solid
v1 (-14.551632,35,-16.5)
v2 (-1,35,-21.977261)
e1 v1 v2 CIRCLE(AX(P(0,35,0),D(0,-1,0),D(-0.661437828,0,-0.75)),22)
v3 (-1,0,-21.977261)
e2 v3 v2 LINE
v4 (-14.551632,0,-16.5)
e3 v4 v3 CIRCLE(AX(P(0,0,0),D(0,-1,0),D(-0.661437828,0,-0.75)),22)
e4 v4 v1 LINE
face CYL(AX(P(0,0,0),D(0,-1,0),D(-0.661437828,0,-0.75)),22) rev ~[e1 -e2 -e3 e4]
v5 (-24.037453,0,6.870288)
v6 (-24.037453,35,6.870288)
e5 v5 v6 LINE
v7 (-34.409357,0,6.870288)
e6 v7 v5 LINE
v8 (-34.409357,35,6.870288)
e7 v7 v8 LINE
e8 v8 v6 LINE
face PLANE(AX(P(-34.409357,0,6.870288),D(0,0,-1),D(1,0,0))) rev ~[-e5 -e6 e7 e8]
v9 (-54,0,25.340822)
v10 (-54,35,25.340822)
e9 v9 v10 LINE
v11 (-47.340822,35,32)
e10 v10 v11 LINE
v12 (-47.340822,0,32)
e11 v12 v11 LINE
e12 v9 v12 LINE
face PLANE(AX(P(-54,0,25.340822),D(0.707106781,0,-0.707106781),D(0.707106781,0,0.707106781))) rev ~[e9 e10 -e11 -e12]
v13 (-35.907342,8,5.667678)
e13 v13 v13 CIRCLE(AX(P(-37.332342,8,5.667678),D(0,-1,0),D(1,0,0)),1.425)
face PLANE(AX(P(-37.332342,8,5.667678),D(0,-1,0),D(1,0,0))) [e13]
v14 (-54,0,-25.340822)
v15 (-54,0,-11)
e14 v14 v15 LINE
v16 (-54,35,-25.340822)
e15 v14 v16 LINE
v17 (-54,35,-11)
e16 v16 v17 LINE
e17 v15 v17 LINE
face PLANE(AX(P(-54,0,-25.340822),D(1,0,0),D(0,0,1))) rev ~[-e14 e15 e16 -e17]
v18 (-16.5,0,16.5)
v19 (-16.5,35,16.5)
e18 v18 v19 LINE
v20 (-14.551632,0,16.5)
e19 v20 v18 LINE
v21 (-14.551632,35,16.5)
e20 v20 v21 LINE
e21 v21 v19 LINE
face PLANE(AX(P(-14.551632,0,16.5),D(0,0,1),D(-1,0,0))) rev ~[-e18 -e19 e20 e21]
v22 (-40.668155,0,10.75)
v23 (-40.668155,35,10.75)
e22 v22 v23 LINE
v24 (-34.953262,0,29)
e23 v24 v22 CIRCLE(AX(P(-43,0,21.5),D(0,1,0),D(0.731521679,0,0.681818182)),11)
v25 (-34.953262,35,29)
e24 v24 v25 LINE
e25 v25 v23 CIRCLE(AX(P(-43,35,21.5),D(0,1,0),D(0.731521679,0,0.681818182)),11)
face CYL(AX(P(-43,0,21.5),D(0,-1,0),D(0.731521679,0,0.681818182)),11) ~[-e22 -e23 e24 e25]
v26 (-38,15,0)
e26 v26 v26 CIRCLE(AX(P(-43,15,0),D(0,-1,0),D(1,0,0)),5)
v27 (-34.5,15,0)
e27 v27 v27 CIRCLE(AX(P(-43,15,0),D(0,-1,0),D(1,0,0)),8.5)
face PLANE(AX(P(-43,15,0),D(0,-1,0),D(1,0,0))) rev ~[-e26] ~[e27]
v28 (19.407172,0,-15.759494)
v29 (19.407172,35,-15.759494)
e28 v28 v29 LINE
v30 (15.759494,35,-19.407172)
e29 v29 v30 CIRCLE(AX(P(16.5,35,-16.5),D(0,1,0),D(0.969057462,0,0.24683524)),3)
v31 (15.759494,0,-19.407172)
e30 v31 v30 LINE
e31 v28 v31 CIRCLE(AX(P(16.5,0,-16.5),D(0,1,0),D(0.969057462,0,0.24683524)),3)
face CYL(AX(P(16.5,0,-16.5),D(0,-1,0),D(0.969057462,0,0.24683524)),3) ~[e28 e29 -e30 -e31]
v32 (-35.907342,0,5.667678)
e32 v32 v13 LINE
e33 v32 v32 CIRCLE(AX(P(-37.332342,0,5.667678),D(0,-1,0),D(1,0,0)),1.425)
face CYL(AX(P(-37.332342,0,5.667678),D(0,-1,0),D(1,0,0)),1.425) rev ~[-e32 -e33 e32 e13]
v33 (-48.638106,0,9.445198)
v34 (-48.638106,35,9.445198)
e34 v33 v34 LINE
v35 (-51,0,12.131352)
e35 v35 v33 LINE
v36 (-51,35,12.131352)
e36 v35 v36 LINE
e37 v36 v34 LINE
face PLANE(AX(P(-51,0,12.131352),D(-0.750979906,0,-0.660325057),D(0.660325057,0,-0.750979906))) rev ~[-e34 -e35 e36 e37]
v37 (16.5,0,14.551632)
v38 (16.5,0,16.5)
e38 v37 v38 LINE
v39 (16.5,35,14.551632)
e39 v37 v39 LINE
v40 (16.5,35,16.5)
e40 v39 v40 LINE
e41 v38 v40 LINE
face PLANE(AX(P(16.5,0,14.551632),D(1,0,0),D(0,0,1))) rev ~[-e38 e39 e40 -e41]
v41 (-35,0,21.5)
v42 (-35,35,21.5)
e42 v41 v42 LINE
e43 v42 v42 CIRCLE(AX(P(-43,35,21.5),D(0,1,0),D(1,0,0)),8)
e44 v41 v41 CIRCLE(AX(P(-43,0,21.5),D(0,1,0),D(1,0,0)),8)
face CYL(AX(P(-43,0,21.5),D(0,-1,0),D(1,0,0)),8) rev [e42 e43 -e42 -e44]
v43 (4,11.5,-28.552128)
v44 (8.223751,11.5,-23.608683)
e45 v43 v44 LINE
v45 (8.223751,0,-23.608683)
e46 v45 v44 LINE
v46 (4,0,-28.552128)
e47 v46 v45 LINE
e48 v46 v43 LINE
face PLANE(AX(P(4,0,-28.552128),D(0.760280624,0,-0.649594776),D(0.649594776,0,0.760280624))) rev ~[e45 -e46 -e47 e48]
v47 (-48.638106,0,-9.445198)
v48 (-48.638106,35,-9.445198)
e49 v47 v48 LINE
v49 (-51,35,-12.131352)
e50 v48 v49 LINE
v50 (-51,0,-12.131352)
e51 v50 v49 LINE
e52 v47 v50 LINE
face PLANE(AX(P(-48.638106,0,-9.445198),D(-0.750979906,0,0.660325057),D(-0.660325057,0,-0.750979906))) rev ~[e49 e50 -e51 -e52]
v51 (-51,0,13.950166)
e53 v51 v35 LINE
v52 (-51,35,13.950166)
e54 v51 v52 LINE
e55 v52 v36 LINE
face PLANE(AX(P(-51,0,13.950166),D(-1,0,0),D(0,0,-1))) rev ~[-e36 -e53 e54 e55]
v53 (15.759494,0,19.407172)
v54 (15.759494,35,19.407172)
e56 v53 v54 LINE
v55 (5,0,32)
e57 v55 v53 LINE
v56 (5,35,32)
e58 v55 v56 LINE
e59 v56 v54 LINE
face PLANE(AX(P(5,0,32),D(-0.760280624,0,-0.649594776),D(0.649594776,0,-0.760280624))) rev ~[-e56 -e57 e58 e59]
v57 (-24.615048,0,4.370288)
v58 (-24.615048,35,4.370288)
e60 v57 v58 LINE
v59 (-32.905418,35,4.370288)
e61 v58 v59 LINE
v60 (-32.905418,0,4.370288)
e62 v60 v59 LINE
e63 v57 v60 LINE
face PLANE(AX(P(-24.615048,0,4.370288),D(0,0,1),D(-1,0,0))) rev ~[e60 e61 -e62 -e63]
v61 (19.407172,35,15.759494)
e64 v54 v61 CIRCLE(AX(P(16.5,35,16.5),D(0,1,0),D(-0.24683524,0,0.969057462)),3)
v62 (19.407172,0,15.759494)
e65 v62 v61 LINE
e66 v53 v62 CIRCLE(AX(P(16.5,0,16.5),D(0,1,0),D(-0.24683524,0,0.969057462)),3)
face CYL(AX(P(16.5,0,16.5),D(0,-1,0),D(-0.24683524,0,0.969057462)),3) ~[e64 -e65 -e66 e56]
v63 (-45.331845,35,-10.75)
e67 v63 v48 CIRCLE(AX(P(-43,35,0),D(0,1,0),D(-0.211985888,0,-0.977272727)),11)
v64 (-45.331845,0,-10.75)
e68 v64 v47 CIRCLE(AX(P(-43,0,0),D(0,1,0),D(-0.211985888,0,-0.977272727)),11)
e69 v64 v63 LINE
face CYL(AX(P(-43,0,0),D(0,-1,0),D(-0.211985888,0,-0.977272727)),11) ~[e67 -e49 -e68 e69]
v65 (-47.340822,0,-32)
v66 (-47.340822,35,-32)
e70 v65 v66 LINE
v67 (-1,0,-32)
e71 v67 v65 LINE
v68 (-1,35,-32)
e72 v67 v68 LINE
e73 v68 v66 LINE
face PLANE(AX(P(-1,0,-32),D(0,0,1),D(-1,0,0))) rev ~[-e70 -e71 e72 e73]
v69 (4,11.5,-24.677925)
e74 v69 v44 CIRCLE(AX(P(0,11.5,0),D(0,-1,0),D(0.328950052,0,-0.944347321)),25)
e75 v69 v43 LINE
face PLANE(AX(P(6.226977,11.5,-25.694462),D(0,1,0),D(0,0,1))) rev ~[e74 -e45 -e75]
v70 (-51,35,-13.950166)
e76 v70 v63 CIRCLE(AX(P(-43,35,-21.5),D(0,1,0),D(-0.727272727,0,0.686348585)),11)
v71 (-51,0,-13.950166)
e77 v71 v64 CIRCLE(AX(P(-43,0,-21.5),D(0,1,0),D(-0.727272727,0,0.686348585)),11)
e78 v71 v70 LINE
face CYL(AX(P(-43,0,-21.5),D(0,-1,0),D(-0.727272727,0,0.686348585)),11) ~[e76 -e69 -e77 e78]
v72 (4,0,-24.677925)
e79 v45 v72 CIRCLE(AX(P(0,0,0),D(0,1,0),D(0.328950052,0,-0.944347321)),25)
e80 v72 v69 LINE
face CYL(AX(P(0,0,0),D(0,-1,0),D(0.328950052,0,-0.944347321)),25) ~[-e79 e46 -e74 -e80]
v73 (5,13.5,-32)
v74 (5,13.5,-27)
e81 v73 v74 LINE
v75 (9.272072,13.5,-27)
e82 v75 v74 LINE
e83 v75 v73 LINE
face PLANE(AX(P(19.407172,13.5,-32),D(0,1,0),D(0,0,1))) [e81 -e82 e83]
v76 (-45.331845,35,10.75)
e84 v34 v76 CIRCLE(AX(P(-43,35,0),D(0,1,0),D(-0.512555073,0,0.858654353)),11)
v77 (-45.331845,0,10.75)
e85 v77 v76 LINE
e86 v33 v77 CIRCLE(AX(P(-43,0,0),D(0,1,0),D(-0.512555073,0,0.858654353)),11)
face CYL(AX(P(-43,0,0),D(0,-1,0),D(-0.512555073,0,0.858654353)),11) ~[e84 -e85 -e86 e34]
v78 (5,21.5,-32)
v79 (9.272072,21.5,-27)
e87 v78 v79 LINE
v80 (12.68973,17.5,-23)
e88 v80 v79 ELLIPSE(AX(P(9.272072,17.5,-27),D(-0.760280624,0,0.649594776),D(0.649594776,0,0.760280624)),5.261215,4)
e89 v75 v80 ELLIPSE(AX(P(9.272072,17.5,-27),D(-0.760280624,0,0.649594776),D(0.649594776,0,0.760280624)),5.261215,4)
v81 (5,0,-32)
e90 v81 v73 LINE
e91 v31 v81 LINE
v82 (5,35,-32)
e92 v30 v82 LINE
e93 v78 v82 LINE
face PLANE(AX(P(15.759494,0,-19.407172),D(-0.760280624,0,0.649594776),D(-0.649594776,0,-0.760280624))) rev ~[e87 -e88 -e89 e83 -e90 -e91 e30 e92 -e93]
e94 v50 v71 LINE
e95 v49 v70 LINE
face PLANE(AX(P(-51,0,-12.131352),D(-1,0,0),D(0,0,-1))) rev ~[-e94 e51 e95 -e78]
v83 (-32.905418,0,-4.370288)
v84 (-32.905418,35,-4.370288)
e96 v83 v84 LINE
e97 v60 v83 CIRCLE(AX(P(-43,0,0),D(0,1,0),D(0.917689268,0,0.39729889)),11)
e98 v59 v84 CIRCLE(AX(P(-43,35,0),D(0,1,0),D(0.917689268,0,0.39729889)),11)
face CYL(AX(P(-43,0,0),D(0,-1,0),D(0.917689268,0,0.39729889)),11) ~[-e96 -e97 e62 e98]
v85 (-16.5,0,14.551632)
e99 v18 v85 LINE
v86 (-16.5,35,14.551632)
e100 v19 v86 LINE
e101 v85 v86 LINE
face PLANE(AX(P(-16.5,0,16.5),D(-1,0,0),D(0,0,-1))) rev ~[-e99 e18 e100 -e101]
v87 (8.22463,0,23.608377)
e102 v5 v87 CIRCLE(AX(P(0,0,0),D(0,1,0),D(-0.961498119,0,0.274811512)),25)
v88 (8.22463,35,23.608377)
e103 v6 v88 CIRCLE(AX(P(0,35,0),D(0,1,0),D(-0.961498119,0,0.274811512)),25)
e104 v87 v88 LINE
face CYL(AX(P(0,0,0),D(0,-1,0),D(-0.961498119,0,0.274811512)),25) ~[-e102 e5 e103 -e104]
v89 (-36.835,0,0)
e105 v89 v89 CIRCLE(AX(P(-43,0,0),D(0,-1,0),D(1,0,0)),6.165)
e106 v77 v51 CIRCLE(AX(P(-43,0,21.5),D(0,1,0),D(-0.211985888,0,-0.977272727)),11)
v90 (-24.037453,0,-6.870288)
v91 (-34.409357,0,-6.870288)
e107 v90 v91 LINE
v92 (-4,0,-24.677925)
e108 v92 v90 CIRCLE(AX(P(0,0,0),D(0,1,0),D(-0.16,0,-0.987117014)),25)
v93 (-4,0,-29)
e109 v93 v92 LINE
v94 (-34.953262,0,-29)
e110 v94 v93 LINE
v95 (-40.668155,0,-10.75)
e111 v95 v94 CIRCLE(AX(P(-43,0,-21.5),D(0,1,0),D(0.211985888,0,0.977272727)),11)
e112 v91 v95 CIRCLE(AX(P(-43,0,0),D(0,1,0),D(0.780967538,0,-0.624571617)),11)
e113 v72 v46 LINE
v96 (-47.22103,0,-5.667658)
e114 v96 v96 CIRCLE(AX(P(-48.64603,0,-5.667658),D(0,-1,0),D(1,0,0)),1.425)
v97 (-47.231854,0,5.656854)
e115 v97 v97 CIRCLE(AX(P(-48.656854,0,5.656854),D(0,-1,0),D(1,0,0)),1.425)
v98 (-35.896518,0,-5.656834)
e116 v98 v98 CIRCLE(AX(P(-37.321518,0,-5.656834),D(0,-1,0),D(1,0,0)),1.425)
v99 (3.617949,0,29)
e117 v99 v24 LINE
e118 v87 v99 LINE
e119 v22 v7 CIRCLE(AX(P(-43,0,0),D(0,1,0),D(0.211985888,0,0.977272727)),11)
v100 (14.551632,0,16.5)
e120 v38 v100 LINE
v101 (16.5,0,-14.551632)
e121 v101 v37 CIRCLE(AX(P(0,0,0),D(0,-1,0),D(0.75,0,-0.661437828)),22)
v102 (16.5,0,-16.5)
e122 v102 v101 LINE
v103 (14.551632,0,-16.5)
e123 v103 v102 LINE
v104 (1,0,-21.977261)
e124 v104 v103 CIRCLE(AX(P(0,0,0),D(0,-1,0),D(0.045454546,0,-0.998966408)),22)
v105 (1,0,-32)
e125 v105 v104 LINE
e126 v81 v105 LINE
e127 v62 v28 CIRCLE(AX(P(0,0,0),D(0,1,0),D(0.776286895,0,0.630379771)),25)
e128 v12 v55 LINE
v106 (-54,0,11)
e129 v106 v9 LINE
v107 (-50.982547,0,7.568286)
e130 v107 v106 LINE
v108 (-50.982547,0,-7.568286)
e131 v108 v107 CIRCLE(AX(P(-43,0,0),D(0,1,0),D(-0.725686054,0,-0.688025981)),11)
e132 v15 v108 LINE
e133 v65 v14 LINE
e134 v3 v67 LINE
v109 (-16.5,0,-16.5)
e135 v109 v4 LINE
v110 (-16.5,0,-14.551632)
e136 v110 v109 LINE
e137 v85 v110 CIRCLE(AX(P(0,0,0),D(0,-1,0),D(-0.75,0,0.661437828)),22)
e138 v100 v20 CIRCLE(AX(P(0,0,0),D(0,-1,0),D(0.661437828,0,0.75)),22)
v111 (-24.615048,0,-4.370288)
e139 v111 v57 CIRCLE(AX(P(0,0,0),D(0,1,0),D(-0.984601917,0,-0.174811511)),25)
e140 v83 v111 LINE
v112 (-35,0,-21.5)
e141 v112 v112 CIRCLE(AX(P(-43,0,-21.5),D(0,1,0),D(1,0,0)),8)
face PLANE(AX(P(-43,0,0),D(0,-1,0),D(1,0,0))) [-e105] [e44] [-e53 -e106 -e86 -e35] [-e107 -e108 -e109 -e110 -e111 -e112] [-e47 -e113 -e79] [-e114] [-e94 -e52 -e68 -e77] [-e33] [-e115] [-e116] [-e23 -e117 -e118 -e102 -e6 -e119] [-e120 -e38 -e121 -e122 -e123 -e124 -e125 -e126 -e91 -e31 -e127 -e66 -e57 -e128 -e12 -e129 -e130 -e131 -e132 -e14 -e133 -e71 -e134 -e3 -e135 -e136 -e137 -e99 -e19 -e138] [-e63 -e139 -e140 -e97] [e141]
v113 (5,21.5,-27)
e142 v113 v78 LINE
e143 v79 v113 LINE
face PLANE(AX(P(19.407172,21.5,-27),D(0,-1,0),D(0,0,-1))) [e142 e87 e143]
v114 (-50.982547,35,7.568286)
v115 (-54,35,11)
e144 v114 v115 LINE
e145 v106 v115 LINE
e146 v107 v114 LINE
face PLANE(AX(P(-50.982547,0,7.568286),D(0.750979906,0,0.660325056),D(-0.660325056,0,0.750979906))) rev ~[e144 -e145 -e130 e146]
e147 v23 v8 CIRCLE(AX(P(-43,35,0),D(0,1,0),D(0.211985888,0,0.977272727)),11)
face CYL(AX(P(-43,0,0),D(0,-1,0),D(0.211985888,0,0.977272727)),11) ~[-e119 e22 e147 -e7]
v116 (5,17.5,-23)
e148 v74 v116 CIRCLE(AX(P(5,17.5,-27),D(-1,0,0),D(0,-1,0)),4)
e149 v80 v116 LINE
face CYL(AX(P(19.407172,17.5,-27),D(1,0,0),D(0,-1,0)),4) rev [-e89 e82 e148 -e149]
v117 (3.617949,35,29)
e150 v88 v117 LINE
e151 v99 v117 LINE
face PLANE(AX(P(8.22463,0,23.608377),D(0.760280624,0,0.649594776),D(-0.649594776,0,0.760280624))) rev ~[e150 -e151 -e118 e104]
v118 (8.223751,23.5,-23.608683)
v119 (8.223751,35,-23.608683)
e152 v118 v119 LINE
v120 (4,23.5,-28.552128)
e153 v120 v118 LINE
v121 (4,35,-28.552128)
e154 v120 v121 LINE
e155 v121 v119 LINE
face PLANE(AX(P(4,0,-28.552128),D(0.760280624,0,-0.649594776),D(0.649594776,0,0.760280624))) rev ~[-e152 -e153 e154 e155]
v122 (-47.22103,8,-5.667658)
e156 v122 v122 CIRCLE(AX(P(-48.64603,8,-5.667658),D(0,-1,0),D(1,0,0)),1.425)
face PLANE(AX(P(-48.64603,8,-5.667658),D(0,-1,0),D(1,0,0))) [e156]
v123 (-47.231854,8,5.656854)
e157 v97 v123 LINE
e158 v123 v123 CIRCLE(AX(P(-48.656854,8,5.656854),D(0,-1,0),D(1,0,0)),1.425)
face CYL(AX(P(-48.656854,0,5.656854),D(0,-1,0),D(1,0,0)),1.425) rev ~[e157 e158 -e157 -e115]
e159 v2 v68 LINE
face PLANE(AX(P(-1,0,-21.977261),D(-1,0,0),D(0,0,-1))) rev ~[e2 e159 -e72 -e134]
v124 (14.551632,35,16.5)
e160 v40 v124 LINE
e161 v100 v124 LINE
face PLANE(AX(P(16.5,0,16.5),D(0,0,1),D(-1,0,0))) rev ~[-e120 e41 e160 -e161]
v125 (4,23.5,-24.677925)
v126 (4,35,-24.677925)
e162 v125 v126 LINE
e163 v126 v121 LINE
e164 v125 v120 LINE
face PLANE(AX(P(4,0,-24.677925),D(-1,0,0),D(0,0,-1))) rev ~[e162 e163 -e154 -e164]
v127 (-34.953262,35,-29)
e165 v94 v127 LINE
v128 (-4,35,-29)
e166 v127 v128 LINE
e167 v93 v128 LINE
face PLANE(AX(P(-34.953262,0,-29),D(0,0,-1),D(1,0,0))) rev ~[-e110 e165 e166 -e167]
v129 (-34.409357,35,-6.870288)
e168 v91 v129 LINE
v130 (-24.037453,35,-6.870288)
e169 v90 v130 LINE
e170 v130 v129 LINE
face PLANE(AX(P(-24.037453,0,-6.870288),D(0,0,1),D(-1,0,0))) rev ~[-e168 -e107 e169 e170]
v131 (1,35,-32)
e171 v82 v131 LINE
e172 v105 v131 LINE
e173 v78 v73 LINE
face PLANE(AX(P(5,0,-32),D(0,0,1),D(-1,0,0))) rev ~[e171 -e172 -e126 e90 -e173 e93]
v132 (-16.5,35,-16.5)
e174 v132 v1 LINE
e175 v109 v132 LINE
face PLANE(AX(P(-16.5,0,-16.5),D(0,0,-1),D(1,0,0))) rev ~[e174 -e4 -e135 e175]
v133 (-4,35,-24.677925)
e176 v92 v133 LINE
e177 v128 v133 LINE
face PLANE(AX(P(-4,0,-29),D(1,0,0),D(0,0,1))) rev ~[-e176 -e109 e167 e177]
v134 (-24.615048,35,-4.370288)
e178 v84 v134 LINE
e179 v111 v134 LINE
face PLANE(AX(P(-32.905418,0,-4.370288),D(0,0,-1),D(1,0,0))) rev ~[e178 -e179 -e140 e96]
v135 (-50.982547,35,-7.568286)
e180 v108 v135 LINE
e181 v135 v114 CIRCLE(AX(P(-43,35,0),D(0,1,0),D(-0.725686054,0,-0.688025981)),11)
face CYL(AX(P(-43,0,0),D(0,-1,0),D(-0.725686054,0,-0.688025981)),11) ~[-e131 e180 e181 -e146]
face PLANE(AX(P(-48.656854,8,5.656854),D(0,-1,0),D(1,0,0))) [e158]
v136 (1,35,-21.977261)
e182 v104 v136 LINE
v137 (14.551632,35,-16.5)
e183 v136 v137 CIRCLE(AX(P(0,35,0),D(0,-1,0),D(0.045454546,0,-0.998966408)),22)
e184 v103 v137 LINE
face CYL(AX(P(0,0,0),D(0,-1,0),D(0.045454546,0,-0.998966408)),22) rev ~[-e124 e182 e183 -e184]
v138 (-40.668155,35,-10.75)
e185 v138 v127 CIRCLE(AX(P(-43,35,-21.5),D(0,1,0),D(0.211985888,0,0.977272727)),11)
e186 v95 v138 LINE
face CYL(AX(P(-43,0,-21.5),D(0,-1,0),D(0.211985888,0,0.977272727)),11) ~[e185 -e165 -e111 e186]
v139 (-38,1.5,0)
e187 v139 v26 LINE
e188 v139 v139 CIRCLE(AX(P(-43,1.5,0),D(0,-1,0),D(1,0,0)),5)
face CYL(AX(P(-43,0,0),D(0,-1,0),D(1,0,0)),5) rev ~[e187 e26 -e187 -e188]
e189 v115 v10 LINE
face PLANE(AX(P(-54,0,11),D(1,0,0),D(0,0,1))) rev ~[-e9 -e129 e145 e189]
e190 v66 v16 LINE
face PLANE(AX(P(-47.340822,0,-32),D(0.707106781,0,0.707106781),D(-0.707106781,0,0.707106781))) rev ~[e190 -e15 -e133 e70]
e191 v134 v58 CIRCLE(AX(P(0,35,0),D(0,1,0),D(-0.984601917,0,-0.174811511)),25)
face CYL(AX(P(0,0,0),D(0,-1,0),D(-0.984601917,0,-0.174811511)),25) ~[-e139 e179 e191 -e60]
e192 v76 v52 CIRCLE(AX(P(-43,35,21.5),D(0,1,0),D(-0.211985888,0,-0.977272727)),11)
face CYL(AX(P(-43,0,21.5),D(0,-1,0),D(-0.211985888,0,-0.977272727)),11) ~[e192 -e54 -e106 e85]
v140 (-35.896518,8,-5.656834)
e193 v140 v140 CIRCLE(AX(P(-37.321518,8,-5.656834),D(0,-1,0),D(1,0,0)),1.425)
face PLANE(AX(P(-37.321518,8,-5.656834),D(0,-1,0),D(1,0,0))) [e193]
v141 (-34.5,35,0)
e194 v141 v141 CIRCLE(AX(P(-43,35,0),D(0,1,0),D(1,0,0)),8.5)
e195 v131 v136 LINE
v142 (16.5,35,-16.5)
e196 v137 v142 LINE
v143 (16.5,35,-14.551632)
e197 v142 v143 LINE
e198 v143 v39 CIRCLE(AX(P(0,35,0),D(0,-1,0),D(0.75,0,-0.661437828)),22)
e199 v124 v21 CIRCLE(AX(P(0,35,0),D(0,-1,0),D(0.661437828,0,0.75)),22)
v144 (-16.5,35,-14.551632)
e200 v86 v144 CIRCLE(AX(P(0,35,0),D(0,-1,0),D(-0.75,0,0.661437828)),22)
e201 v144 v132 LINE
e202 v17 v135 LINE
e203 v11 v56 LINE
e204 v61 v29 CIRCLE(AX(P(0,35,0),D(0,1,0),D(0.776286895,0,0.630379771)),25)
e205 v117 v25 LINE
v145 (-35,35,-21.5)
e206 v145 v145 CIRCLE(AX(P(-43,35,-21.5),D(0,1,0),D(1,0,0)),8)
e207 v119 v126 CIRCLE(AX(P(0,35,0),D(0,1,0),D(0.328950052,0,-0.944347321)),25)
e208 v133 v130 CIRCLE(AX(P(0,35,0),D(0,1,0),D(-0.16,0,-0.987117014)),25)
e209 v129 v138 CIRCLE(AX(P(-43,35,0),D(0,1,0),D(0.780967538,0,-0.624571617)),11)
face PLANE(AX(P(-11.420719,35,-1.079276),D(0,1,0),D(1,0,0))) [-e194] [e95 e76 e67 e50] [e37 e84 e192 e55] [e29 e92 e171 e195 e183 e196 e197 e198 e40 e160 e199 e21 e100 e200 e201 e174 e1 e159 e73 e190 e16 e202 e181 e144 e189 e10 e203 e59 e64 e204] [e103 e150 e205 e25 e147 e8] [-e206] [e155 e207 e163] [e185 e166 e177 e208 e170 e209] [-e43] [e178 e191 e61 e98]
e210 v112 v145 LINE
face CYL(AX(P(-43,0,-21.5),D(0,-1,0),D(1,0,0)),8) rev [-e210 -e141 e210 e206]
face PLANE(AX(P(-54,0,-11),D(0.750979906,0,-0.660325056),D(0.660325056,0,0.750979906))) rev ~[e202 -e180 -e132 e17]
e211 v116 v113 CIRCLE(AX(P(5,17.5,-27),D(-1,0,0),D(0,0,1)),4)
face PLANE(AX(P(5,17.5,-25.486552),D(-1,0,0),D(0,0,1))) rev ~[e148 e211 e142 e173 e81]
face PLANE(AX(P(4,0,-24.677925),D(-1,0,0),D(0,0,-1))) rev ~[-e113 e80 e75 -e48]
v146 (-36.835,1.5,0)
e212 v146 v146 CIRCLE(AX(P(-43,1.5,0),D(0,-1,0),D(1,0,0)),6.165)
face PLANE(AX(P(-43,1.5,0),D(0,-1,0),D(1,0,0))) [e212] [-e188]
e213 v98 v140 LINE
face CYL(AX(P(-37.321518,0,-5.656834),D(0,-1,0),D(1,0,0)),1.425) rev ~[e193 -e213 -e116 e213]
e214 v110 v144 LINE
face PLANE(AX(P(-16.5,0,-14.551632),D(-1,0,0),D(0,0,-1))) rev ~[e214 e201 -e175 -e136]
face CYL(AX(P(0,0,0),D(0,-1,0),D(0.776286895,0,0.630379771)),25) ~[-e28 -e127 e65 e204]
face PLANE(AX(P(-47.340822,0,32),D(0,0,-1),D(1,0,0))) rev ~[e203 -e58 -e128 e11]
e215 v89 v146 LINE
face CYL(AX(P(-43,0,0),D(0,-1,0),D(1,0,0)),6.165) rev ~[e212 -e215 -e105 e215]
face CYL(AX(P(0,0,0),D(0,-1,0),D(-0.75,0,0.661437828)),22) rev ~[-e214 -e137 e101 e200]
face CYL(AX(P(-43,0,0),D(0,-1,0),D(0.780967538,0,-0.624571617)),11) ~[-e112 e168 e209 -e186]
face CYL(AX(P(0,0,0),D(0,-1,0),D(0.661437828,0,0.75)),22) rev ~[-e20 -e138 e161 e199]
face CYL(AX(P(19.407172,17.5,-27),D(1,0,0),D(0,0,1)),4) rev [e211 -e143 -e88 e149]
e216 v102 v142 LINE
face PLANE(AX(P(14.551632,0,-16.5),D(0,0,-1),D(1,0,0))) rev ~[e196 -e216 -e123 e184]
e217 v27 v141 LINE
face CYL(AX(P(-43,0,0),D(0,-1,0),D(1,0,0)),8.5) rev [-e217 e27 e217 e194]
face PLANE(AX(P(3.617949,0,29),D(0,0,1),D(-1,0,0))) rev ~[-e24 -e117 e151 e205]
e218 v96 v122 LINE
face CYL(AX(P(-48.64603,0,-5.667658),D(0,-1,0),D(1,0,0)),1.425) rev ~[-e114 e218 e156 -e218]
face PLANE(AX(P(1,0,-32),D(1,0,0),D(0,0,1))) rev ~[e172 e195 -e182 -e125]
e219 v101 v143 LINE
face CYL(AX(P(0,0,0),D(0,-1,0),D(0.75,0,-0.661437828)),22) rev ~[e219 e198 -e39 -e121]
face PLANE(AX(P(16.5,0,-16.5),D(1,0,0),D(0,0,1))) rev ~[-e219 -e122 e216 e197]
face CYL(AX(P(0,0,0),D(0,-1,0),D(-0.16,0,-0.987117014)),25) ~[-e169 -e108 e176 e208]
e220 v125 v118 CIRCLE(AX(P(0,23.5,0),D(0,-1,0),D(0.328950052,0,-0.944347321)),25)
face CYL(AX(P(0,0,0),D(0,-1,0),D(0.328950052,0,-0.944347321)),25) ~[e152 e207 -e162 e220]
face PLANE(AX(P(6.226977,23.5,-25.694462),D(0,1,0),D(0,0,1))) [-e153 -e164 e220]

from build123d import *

# Parameters (mm, degrees)
SKETCH1_R           = 8
SKETCH1_R_2         = 8.5
BOSS_EXTRUDE1_DEPTH = 35
BOSS_EXTRUDE3_DEPTH = 12
CUT_EXTRUDE1_DEPTH  = 14.407172
SKETCH7_R           = 8.5
BOSS_EXTRUDE4_DEPTH = 15
SKETCH7_3_R         = 5
CUT_EXTRUDE2_DEPTH  = 15
SKETCH7_4_R         = 6.165
CUT_EXTRUDE3_DEPTH  = 1.5
SKETCH7_5_R         = 1.425
CUT_EXTRUDE4_DEPTH  = 8


with BuildPart() as part:
    # Sketch1 → Boss-Extrude1 (new body)
    with BuildSketch(Plane(origin=(0, 0, 0), x_dir=(1, 0, 0), z_dir=(0, 1, 0))):
        with BuildLine():
            ThreePointArc((-50.982546594, 7.568285795), (-54, 0), (-50.982546594, -7.568285795))
            Line((-50.982546594, -7.568285795), (-54, -11))
            Line((-54, -11), (-54, -25.34082208))
            Line((-54, -25.34082208), (-47.34082208, -32))
            Line((-47.34082208, -32), (5, -32))
            Line((5, -32), (15.759494281, -19.407172386))
            ThreePointArc((15.759494281, -19.407172386), (18.621320344, -18.621320344), (19.407172386, -15.759494281))
            ThreePointArc((19.407172386, -15.759494281), (25, 0), (19.407172386, 15.759494281))
            ThreePointArc((19.407172386, 15.759494281), (18.621320344, 18.621320344), (15.759494281, 19.407172386))
            Line((15.759494281, 19.407172386), (5, 32))
            Line((5, 32), (1, 32))
            Line((1, 32), (1, 21.977260976))
            ThreePointArc((1, 21.977260976), (8.243992543, 20.396974946), (14.551632211, 16.5))
            Line((14.551632211, 16.5), (16.5, 16.5))
            Line((16.5, 16.5), (16.5, 14.551632211))
            ThreePointArc((16.5, 14.551632211), (22, 0), (16.5, -14.551632211))
            Line((16.5, -14.551632211), (16.5, -16.5))
            Line((16.5, -16.5), (14.551632211, -16.5))
            ThreePointArc((14.551632211, -16.5), (0, -22), (-14.551632211, -16.5))
            Line((-14.551632211, -16.5), (-16.5, -16.5))
            Line((-16.5, -16.5), (-16.5, -14.551632211))
            ThreePointArc((-16.5, -14.551632211), (-22, 0), (-16.5, 14.551632211))
            Line((-16.5, 14.551632211), (-16.5, 16.5))
            Line((-16.5, 16.5), (-14.551632211, 16.5))
            ThreePointArc((-14.551632211, 16.5), (-8.243992543, 20.396974946), (-1, 21.977260976))
            Line((-1, 21.977260976), (-1, 32))
            Line((-1, 32), (-47.34082208, 32))
            Line((-47.34082208, 32), (-54, 25.34082208))
            Line((-54, 25.34082208), (-54, 11))
            Line((-54, 11), (-50.982546594, 7.568285795))
        make_face()
        with BuildLine():
            ThreePointArc((-48.638105805, -9.445197877), (-47.038026147, -10.232025451), (-45.331844763, -10.75))
            ThreePointArc((-45.331844763, -10.75), (-48.408051309, -11.921222362), (-51, -13.950165565))
            Line((-51, -13.950165565), (-51, -12.131352314))
            Line((-51, -12.131352314), (-48.638105805, -9.445197877))
        make_face(mode=Mode.SUBTRACT)
        with Locations((-43, -21.5)):
            Circle(SKETCH1_R, mode=Mode.SUBTRACT)
        with BuildLine():
            ThreePointArc((-34.95326153, -29), (-32.502649264, -18.212808567), (-40.668155237, -10.75))
            ThreePointArc((-40.668155237, -10.75), (-37.204464997, -9.349426401), (-34.409357086, -6.870287791))
            Line((-34.409357086, -6.870287791), (-24.037452978, -6.870287791))
            ThreePointArc((-24.037452978, -6.870287791), (-11.513133706, -22.191163833), (8.224630177, -23.60837687))
            Line((8.224630177, -23.60837687), (3.617949295, -29))
            Line((3.617949295, -29), (-34.95326153, -29))
        make_face(mode=Mode.SUBTRACT)
        with Locations((-43, 0)):
            Circle(SKETCH1_R_2, mode=Mode.SUBTRACT)
        with BuildLine():
            ThreePointArc((-45.331844763, 10.75), (-47.038026147, 10.232025451), (-48.638105805, 9.445197877))
            Line((-48.638105805, 9.445197877), (-51, 12.131352314))
            Line((-51, 12.131352314), (-51, 13.950165565))
            ThreePointArc((-51, 13.950165565), (-48.408051309, 11.921222362), (-45.331844763, 10.75))
        make_face(mode=Mode.SUBTRACT)
        with BuildLine():
            ThreePointArc((-32.905418056, -4.370287791), (-32, 0), (-32.905418056, 4.370287791))
            Line((-32.905418056, 4.370287791), (-24.615047931, 4.370287791))
            ThreePointArc((-24.615047931, 4.370287791), (-25, 0), (-24.615047931, -4.370287791))
            Line((-24.615047931, -4.370287791), (-32.905418056, -4.370287791))
        make_face(mode=Mode.SUBTRACT)
        with Locations((-43, 21.5)):
            Circle(SKETCH1_R, mode=Mode.SUBTRACT)
        with BuildLine():
            ThreePointArc((-34.409357086, 6.870287791), (-37.204464997, 9.349426401), (-40.668155237, 10.75))
            ThreePointArc((-40.668155237, 10.75), (-32.502649264, 18.212808567), (-34.95326153, 29))
            Line((-34.95326153, 29), (-4, 29))
            Line((-4, 29), (-4, 24.677925359))
            ThreePointArc((-4, 24.677925359), (-16.607308069, 18.68682206), (-24.037452978, 6.870287791))
            Line((-24.037452978, 6.870287791), (-34.409357086, 6.870287791))
        make_face(mode=Mode.SUBTRACT)
        with BuildLine():
            ThreePointArc((8.223751321, 23.608683026), (6.135213434, 24.235493725), (4, 24.677925359))
            Line((4, 24.677925359), (4, 28.552128404))
            Line((4, 28.552128404), (8.223751321, 23.608683026))
        make_face(mode=Mode.SUBTRACT)
    extrude(amount=BOSS_EXTRUDE1_DEPTH)

    # Sketch6 → Boss-Extrude3 (add)
    with BuildSketch(Plane(origin=(0, 23.5, 0), x_dir=(0, 0, -1), z_dir=(0, -1, 0))):
        Polygon((30.717367885, 3.963704263), (22.785433959, 3.963704263), (22.785433959, 10.604126234), align=None)
    extrude(amount=BOSS_EXTRUDE3_DEPTH)

    # Sketch3 → Cut-Extrude1 (cut)
    with BuildSketch(Plane.ZY.offset(-19.407172386)):
        with BuildLine():
            ThreePointArc((-23, 17.5), (-24.171572875, 20.328427125), (-27, 21.5))
            Line((-27, 21.5), (-27, 13.5))
            ThreePointArc((-27, 13.5), (-24.171572875, 14.671572875), (-23, 17.5))
        make_face()
        with BuildLine():
            Line((-27, 13.5), (-27, 21.5))
            ThreePointArc((-27, 21.5), (-31, 17.5), (-27, 13.5))
        make_face()
        with BuildLine():
            Line((-27, 21.5), (-32, 21.5))
            Line((-32, 21.5), (-32, 13.5))
            Line((-32, 13.5), (-27, 13.5))
            ThreePointArc((-27, 13.5), (-31, 17.5), (-27, 21.5))
        make_face()
    extrude(amount=CUT_EXTRUDE1_DEPTH, mode=Mode.SUBTRACT)

    # Sketch7 → Boss-Extrude4 (add)
    with BuildSketch(Plane.XZ):
        with Locations((-43, 0)):
            Circle(SKETCH7_R)
    extrude(amount=-BOSS_EXTRUDE4_DEPTH)

    # Sketch7<3> → Cut-Extrude2 (cut)
    with BuildSketch(Plane.XZ):
        with Locations((-43, 0)):
            Circle(SKETCH7_3_R)
    extrude(amount=-CUT_EXTRUDE2_DEPTH, mode=Mode.SUBTRACT)

    # Sketch7<4> → Cut-Extrude3 (cut)
    with BuildSketch(Plane.XZ):
        with Locations((-43, 0)):
            Circle(SKETCH7_4_R)
    extrude(amount=-CUT_EXTRUDE3_DEPTH, mode=Mode.SUBTRACT)

    # Sketch7<5> → Cut-Extrude4 (cut)
    with BuildSketch(Plane.XZ):
        with Locations((-48.64603005, -5.667657777)):
            Circle(SKETCH7_5_R)
        with Locations((-48.656854249, 5.656854249)):
            Circle(SKETCH7_5_R)
        with Locations((-37.332342223, 5.667678449)):
            Circle(SKETCH7_5_R)
        with Locations((-37.321518023, -5.656833577)):
            Circle(SKETCH7_5_R)
    extrude(amount=-CUT_EXTRUDE4_DEPTH, mode=Mode.SUBTRACT)


solid = part.part
